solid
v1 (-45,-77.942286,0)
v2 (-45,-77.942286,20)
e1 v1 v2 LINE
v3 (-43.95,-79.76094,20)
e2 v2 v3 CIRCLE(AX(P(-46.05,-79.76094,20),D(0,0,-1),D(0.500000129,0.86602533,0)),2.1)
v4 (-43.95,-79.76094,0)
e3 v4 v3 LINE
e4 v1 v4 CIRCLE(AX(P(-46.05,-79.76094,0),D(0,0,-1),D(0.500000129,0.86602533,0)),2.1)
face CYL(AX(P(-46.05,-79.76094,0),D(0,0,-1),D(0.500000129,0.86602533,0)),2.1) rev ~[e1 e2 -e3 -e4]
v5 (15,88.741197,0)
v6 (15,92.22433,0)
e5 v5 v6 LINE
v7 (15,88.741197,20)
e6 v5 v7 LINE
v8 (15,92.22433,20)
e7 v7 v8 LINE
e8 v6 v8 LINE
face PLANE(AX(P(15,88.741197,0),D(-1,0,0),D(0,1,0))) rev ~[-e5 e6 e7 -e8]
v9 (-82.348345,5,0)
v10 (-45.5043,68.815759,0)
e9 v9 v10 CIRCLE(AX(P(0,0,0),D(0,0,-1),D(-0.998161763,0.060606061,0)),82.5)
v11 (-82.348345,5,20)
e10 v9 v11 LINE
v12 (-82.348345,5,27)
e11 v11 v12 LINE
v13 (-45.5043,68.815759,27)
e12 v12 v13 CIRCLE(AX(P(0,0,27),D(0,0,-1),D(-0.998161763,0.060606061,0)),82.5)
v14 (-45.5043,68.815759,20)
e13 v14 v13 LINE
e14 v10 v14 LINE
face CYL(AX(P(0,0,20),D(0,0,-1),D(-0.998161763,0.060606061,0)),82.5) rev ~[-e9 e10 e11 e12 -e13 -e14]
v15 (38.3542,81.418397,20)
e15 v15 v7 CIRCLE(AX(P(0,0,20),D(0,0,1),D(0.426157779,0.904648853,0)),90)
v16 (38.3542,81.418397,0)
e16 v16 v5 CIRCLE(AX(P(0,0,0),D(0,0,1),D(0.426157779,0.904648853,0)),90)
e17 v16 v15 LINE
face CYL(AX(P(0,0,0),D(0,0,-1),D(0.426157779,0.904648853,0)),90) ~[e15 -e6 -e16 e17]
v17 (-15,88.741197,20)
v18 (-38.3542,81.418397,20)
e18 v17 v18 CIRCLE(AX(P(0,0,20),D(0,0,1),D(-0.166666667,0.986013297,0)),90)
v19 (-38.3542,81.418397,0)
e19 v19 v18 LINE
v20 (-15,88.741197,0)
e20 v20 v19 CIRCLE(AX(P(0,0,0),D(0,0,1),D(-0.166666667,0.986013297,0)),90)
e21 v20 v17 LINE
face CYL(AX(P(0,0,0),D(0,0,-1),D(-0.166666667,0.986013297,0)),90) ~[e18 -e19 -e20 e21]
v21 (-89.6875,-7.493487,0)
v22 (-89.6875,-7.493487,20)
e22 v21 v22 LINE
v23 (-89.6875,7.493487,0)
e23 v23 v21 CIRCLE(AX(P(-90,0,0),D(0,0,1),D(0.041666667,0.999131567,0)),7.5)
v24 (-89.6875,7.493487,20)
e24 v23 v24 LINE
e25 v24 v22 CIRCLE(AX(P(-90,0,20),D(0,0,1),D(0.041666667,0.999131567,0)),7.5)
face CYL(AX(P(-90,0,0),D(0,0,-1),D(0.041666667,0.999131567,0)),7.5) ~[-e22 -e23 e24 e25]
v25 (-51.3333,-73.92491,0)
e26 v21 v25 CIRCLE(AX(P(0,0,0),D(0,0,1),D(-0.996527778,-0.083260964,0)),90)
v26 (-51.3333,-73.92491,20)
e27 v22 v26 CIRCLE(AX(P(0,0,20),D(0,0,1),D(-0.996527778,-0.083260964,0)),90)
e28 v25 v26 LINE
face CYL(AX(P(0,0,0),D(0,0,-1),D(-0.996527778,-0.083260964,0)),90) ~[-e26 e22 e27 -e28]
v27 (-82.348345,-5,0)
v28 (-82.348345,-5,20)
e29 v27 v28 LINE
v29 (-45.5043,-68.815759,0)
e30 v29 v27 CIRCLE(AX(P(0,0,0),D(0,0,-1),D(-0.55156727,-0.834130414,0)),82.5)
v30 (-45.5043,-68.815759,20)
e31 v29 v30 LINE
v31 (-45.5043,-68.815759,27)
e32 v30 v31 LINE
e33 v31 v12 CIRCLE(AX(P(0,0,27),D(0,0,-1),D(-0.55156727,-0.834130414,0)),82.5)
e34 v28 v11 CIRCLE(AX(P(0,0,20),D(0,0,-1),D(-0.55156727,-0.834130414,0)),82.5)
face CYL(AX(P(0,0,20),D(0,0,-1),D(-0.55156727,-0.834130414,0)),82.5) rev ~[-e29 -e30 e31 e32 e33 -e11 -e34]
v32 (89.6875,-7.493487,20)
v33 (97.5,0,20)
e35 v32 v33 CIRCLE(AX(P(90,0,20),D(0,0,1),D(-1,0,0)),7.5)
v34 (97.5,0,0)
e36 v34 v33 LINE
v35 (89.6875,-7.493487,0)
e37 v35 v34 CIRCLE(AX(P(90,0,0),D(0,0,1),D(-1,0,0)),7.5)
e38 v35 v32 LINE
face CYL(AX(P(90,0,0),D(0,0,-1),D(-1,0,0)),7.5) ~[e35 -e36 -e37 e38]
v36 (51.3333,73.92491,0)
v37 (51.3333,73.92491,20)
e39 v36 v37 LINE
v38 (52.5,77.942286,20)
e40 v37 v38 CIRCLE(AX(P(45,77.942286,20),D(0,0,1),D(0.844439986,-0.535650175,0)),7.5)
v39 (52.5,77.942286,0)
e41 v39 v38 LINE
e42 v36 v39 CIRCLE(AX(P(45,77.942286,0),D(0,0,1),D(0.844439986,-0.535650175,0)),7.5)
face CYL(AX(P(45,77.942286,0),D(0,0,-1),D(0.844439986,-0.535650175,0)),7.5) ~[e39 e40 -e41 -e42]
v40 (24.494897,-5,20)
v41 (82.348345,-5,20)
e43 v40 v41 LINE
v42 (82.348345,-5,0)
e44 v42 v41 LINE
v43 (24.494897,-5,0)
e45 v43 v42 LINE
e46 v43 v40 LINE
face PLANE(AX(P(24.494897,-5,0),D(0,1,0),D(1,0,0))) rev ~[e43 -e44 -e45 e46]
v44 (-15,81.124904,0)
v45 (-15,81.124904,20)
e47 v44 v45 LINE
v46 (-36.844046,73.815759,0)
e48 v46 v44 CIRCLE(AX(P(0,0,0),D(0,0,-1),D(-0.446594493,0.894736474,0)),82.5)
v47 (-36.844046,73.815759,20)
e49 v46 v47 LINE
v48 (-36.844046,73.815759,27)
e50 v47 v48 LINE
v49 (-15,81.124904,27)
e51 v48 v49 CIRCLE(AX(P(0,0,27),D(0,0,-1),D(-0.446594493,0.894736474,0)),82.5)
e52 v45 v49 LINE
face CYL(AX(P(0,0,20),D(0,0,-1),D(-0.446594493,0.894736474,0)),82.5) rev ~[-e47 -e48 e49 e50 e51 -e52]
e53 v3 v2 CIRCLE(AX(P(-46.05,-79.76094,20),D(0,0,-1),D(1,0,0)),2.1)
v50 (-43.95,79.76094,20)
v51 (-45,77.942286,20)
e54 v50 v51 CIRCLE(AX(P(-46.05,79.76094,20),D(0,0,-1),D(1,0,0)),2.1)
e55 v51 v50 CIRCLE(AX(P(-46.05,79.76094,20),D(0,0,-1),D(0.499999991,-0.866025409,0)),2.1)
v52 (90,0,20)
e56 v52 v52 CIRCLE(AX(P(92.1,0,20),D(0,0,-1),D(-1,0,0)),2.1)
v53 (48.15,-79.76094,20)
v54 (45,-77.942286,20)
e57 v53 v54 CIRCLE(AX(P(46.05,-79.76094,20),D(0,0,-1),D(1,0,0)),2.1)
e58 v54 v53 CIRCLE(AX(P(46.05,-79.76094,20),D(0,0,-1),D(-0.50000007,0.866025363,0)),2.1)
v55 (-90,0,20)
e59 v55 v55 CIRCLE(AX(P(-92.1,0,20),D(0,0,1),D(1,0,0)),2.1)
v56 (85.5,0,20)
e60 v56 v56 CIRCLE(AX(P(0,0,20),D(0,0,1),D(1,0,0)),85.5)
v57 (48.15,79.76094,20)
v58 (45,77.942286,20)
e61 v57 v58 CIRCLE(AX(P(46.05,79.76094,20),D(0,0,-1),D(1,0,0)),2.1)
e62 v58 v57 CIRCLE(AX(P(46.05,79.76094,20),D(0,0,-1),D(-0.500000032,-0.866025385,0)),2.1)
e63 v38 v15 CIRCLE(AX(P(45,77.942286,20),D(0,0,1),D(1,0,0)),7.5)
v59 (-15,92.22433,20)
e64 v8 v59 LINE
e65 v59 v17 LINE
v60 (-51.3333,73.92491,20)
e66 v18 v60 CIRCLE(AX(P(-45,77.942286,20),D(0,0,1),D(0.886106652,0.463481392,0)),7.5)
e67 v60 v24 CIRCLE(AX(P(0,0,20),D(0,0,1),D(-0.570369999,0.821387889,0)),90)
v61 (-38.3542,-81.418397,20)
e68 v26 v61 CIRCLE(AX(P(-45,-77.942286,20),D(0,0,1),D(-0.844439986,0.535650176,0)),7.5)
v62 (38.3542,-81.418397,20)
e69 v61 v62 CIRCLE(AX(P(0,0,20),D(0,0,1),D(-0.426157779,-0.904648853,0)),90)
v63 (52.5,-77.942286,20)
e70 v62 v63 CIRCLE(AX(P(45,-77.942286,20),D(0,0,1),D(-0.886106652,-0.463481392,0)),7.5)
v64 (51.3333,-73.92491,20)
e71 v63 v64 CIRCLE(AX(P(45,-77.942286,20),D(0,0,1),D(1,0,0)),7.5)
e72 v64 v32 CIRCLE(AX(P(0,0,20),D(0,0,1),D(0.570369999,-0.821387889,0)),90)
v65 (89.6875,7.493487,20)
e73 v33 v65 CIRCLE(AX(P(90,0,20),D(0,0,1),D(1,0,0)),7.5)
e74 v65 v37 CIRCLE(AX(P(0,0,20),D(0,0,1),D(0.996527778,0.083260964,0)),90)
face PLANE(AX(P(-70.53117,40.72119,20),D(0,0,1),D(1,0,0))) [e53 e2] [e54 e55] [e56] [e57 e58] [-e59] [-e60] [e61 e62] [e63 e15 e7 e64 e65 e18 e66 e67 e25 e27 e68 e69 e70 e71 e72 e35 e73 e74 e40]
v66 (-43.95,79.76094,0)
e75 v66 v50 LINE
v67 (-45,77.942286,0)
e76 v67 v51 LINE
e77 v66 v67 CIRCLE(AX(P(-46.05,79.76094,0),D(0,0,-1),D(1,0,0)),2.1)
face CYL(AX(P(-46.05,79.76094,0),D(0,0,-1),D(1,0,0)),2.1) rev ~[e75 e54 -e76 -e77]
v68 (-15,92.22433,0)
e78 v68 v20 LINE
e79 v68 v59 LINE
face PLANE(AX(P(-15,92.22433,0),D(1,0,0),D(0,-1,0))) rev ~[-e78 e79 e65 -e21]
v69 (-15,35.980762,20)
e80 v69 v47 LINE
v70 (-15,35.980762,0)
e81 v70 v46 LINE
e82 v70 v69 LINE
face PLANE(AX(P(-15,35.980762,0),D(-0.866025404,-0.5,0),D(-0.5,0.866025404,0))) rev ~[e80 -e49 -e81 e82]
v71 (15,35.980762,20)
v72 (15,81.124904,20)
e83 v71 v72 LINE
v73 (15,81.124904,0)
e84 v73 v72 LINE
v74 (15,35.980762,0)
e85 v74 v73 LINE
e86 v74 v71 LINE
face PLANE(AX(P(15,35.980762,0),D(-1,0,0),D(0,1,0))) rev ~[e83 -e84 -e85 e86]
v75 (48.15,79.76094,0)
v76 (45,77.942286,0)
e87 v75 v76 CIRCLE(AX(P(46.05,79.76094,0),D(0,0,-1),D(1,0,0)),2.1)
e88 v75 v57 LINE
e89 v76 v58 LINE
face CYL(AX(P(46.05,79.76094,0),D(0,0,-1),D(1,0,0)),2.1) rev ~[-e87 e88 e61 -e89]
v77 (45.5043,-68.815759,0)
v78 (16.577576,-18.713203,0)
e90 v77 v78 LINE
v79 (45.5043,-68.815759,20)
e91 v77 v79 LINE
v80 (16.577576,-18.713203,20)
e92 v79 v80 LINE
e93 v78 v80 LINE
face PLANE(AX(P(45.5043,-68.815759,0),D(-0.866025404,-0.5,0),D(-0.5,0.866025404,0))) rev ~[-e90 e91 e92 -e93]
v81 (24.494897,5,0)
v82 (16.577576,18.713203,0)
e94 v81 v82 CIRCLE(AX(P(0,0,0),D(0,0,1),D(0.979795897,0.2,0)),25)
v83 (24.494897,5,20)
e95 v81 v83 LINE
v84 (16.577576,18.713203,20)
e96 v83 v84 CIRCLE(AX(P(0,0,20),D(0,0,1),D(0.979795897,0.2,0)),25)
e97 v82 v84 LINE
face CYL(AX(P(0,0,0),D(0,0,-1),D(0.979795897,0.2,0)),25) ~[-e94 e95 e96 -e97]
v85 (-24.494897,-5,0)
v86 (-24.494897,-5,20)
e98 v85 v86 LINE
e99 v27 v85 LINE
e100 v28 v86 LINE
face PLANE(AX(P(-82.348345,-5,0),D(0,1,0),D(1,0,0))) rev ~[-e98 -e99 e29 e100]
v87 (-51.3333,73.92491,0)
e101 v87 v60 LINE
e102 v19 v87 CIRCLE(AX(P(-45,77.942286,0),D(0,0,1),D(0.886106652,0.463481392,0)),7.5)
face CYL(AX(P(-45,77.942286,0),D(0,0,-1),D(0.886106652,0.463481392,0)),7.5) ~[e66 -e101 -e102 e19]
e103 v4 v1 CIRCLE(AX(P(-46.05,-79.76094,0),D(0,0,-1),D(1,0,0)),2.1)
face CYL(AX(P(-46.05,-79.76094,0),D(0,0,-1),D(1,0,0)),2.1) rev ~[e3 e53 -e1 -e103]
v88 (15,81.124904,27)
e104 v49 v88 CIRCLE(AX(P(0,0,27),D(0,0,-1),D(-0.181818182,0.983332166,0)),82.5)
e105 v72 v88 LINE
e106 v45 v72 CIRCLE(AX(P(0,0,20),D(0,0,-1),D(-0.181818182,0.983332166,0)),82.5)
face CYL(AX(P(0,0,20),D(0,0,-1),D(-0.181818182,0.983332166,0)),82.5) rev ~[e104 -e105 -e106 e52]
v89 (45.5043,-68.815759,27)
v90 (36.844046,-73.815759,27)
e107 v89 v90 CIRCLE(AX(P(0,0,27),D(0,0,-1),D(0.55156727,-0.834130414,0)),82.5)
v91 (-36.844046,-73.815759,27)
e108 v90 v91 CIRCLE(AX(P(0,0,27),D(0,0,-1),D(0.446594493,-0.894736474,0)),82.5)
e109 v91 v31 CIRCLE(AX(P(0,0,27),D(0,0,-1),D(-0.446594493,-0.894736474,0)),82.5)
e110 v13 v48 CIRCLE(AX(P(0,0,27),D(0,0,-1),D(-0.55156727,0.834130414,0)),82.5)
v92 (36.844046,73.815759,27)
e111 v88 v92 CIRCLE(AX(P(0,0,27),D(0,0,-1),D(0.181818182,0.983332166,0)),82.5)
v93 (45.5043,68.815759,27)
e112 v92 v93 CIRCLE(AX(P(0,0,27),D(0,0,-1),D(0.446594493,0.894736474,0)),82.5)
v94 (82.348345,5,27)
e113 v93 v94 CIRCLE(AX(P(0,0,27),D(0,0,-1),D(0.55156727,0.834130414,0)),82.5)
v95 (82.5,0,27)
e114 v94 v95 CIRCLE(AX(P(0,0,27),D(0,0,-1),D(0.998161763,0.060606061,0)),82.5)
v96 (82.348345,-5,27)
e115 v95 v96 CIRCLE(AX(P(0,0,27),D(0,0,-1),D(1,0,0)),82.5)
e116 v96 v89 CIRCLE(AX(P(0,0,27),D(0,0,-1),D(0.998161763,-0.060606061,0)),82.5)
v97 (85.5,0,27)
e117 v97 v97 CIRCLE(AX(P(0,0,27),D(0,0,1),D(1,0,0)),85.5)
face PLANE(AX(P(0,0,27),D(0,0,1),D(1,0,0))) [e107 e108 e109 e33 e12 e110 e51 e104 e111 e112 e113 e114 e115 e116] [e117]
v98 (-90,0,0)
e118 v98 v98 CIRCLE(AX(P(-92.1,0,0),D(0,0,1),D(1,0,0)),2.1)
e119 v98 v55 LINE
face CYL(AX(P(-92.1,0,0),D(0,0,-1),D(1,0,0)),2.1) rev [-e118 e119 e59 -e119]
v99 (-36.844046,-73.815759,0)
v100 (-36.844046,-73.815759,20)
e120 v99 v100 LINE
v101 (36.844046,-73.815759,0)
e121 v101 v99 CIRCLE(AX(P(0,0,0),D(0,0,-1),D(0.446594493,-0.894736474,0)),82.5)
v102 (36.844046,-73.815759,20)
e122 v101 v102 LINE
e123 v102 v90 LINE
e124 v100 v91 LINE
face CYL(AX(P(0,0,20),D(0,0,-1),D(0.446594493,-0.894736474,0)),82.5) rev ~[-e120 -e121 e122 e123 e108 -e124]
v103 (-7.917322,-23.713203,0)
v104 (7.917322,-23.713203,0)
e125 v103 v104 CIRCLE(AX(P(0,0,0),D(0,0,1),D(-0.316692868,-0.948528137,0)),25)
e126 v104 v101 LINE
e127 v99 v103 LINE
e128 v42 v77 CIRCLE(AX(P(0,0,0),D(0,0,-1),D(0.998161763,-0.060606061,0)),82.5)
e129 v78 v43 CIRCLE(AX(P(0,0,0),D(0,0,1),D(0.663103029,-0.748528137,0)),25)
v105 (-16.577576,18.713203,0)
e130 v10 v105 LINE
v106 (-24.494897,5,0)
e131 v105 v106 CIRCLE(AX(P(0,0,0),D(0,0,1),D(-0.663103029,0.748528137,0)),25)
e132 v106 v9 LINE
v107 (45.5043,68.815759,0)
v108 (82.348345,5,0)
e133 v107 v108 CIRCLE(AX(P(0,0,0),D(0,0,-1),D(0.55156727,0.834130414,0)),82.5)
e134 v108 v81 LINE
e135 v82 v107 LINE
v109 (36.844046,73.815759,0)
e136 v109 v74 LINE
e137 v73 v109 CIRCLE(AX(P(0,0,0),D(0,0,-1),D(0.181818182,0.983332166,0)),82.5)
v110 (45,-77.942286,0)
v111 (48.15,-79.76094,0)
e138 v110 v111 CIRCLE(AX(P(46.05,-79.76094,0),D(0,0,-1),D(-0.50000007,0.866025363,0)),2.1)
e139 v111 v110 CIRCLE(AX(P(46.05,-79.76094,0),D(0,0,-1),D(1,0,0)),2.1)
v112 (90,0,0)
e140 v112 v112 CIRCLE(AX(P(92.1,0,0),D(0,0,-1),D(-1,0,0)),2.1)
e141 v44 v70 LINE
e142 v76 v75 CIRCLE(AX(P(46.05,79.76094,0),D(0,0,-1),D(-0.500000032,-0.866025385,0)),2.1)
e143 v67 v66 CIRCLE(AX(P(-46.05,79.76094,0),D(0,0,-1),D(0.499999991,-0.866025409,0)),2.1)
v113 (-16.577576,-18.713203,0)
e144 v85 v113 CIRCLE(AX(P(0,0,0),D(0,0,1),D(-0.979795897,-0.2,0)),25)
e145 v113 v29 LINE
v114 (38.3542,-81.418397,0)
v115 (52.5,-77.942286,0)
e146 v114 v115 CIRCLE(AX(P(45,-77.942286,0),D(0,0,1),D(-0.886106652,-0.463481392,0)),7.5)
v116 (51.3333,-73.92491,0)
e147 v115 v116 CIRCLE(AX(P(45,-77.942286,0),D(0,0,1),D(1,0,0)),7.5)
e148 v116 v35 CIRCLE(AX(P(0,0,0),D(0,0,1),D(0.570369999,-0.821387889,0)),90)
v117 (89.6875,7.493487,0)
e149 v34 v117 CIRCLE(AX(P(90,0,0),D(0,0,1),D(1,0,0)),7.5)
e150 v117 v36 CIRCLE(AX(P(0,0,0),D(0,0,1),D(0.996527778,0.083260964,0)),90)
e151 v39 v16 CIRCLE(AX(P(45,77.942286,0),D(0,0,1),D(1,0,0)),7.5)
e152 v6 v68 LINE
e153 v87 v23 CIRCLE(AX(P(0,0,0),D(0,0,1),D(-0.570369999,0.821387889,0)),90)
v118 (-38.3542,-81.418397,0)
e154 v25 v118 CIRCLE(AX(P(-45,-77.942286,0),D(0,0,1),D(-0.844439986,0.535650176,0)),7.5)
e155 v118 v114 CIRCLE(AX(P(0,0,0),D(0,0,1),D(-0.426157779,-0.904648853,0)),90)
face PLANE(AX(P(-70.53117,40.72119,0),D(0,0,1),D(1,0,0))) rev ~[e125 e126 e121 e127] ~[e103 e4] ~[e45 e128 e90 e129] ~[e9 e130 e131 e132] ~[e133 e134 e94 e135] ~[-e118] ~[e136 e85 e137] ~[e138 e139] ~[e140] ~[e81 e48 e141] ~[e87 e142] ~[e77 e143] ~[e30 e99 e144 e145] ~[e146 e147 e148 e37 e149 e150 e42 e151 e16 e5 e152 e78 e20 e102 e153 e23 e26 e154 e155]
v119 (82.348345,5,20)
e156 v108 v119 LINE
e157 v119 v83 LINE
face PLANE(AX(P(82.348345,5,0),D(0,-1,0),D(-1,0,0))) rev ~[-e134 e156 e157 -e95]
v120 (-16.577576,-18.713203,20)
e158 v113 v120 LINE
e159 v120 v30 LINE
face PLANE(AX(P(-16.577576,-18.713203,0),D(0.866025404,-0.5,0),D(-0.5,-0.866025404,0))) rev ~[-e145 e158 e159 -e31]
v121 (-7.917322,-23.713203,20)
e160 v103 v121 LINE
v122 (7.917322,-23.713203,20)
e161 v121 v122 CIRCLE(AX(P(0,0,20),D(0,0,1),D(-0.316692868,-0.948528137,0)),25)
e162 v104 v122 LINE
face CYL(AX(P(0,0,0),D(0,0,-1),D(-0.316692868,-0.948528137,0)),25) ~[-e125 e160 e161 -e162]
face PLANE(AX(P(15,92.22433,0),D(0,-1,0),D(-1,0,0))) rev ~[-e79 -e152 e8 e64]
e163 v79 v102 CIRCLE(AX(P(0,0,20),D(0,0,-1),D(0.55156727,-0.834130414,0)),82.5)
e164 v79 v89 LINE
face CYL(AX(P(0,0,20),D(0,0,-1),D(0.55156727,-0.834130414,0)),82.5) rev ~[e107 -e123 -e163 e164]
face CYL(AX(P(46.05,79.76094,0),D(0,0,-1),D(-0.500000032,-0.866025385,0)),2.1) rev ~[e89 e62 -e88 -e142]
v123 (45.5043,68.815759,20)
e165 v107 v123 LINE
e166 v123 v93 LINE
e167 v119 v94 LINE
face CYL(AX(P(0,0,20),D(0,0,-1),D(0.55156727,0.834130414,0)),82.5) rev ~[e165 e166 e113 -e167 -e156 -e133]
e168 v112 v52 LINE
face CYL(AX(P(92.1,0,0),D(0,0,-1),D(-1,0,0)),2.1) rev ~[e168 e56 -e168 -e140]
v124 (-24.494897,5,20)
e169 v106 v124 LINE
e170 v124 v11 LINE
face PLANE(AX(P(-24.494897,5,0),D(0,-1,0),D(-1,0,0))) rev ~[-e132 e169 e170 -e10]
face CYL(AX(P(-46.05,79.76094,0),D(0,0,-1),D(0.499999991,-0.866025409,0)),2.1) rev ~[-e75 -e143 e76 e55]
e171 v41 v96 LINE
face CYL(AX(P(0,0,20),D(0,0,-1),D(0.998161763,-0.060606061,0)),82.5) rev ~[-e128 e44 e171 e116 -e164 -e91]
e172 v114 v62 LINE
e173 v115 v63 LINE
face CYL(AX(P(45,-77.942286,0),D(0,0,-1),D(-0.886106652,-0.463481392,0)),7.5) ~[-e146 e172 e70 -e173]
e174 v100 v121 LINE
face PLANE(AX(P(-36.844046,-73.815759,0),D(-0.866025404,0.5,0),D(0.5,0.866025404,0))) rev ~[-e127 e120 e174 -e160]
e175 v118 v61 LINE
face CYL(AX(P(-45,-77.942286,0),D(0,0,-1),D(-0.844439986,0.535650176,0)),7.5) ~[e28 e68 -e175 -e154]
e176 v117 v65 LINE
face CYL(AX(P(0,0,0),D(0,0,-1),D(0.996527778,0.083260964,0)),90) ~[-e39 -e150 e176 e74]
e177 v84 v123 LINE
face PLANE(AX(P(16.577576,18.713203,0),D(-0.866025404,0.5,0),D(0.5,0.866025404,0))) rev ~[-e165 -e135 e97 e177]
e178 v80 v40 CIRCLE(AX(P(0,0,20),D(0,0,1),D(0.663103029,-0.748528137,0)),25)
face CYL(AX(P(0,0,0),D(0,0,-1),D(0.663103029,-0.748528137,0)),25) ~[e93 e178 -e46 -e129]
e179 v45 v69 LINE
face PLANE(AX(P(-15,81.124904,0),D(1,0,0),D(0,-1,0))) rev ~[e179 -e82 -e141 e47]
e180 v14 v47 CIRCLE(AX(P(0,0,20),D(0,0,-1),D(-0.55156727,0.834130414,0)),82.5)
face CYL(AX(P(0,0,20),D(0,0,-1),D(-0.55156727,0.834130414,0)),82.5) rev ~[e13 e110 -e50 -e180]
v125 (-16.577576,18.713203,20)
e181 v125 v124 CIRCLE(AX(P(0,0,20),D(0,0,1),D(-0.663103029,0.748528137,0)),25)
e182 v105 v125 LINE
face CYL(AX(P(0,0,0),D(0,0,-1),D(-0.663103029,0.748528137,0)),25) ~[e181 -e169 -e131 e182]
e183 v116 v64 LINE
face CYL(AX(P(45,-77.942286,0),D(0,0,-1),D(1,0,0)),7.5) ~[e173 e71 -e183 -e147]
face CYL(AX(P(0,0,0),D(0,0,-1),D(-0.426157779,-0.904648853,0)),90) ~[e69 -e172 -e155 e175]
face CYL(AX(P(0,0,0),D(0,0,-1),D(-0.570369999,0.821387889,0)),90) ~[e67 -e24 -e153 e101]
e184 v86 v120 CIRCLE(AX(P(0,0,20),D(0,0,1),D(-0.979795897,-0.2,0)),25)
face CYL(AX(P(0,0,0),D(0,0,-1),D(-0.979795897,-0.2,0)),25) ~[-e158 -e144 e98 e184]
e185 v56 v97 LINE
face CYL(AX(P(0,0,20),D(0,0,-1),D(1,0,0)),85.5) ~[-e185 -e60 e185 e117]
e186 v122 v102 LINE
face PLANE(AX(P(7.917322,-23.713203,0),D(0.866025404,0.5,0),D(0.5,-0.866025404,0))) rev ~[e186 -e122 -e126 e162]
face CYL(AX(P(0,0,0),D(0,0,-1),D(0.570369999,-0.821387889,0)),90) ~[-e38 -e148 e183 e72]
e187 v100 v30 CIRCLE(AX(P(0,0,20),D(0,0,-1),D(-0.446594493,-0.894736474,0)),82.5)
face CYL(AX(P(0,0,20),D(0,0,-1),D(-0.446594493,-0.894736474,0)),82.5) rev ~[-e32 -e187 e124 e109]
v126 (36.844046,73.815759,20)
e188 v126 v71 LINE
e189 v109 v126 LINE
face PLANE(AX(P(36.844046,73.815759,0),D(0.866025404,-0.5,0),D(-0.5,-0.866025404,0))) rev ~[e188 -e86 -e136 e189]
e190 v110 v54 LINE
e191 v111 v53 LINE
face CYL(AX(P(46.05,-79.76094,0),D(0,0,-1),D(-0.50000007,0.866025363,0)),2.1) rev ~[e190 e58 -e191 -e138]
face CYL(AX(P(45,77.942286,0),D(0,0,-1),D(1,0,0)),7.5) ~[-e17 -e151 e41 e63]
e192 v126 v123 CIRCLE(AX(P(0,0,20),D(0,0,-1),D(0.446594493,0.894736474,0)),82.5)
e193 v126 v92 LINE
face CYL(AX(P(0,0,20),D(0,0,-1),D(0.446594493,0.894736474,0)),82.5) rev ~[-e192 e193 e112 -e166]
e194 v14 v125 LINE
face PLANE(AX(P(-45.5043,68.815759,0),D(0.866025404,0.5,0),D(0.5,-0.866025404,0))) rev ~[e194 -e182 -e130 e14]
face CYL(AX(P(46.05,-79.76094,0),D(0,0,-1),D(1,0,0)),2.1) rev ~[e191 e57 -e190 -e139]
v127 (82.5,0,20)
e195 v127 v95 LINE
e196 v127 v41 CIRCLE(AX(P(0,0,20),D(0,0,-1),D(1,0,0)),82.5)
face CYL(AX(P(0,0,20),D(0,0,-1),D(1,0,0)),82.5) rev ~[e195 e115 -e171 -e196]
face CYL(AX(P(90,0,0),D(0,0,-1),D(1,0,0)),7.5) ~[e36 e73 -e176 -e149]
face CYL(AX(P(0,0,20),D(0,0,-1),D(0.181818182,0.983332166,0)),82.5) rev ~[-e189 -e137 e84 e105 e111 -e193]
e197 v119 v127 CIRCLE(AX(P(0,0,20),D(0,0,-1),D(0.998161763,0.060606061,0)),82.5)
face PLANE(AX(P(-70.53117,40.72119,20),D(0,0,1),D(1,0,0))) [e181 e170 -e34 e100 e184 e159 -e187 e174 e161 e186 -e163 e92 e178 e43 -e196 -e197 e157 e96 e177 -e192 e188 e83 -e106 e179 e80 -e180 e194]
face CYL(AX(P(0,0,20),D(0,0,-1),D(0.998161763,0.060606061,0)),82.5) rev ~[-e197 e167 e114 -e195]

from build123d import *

# Parameters (mm, degrees)
F0_R     = 2.1
F1_DEPTH = 20
F2_R     = 85.5
F3_DEPTH = 7


with BuildPart() as f1:
    # F0 (on Top) → F1 (new body)
    with BuildSketch(Plane.XY):
        with BuildLine():
            ThreePointArc((-41.2500001071, 71.4470957504), (-46.7897627263, 70.6589663982), (-51.3332998929, 73.9249100243))
            ThreePointArc((-51.3332998929, 73.9249100243), (-77.9422863406, 45), (-89.6875, 7.4934867552))
            ThreePointArc((-89.6875, 7.4934867552), (-84.5873412263, 5.1916399143), (-82.5, 0))
            ThreePointArc((-82.5, 0), (-82.4620776492, 2.5011496906), (-82.34834546, 5))
            ThreePointArc((-82.34834546, 5), (-71.4470958122, 41.25), (-45.5042997489, 68.815759128))
            ThreePointArc((-45.5042997489, 68.815759128), (-43.3970980479, 70.1636792152), (-41.2500001071, 71.4470957504))
        make_face()
        with BuildLine():
            ThreePointArc((-37.5, 77.9422863406), (-37.7166800428, 79.7320490069), (-38.3542001071, 81.4183967795))
            ThreePointArc((-38.3542001071, 81.4183967795), (-41.7133252765, 79.7495987098), (-45.0000000188, 77.9422863298))
            ThreePointArc((-45.0000000188, 77.9422863298), (-48.2085158044, 75.999598709), (-51.3332998929, 73.9249100243))
            ThreePointArc((-51.3332998929, 73.9249100243), (-46.7897627263, 70.6589663982), (-41.2500001071, 71.4470957504))
            ThreePointArc((-41.2500001071, 71.4470957504), (-38.5048095025, 74.1922862871), (-37.5, 77.9422863406))
        make_face()
        with BuildLine():
            ThreePointArc((-45.0000000188, 77.9422863298), (-41.7133252765, 79.7495987098), (-38.3542001071, 81.4183967795))
            ThreePointArc((-38.3542001071, 81.4183967795), (-48.75, 84.437476869), (-51.3332998929, 73.9249100243))
            ThreePointArc((-51.3332998929, 73.9249100243), (-48.2085158044, 75.999598709), (-45.0000000188, 77.9422863298))
        make_face()
        with BuildLine():
            ThreePointArc((-43.95, 79.7609396885), (-44.2313466575, 78.7109396792), (-45.0000000188, 77.9422863298))
            ThreePointArc((-45.0000000188, 77.9422863298), (-47.8686533425, 80.8109396979), (-43.95, 79.7609396885))
        make_face(mode=Mode.SUBTRACT)
        with BuildLine():
            Line((-15, 81.1249036979), (-15, 88.7411967465))
            ThreePointArc((-15, 88.7411967465), (-26.9271891795, 85.8773921524), (-38.3542001071, 81.4183967795))
            ThreePointArc((-38.3542001071, 81.4183967795), (-37.7166800428, 79.7320490069), (-37.5, 77.9422863406))
            ThreePointArc((-37.5, 77.9422863406), (-38.5048095025, 74.1922862871), (-41.2500001071, 71.4470957504))
            ThreePointArc((-41.2500001071, 71.4470957504), (-39.0649797083, 72.6648289091), (-36.8440457111, 73.815759128))
            ThreePointArc((-36.8440457111, 73.815759128), (-26.1783721325, 78.2364546263), (-15, 81.1249036979))
        make_face()
        with BuildLine():
            Line((15, 81.1249036979), (15, 88.7411967465))
            ThreePointArc((15, 88.7411967465), (0, 90), (-15, 88.7411967465))
            Line((-15, 88.7411967465), (-15, 81.1249036979))
            ThreePointArc((-15, 81.1249036979), (0, 82.5), (15, 81.1249036979))
        make_face()
        with BuildLine():
            ThreePointArc((-15, 88.7411967465), (0, 90), (15, 88.7411967465))
            Line((15, 88.7411967465), (15, 92.22432971))
            Line((15, 92.22432971), (-15, 92.22432971))
            Line((-15, 92.22432971), (-15, 88.7411967465))
        make_face()
        with BuildLine():
            ThreePointArc((36.8440457111, 73.815759128), (39.0649794612, 72.664829042), (41.2499996211, 71.447096031))
            ThreePointArc((41.2499996211, 71.447096031), (37.7975784991, 75.8506065078), (38.3542001071, 81.4183967795))
            ThreePointArc((38.3542001071, 81.4183967795), (26.9271891795, 85.8773921524), (15, 88.7411967465))
            Line((15, 88.7411967465), (15, 81.1249036979))
            ThreePointArc((15, 81.1249036979), (26.1783721325, 78.2364546263), (36.8440457111, 73.815759128))
        make_face()
        with BuildLine():
            ThreePointArc((41.2499996211, 71.447096031), (46.7897624538, 70.6589663312), (51.3332998929, 73.9249100243))
            ThreePointArc((51.3332998929, 73.9249100243), (48.2085157624, 75.9995987357), (44.9999999326, 77.9422863795))
            ThreePointArc((44.9999999326, 77.9422863795), (41.7133252324, 79.7495987329), (38.3542001071, 81.4183967795))
            ThreePointArc((38.3542001071, 81.4183967795), (37.7975784991, 75.8506065078), (41.2499996211, 71.447096031))
        make_face()
        with BuildLine():
            ThreePointArc((44.9999999326, 77.9422863795), (48.2085157624, 75.9995987357), (51.3332998929, 73.9249100243))
            ThreePointArc((51.3332998929, 73.9249100243), (52.2024214399, 75.8506062978), (52.5, 77.9422863406))
            ThreePointArc((52.5, 77.9422863406), (46.7897626663, 85.2256062978), (38.3542001071, 81.4183967795))
            ThreePointArc((38.3542001071, 81.4183967795), (41.7133252324, 79.7495987329), (44.9999999326, 77.9422863795))
        make_face()
        with BuildLine():
            ThreePointArc((48.15, 79.7609396885), (47.0999999663, 77.9422863211), (44.9999999326, 77.9422863795))
            ThreePointArc((44.9999999326, 77.9422863795), (45.0000000337, 81.5795930559), (48.15, 79.7609396885))
        make_face(mode=Mode.SUBTRACT)
        with BuildLine():
            ThreePointArc((82.5, 0), (84.5873412263, 5.1916399143), (89.6875, 7.4934867552))
            ThreePointArc((89.6875, 7.4934867552), (77.9422863406, 45), (51.3332998929, 73.9249100243))
            ThreePointArc((51.3332998929, 73.9249100243), (46.7897624538, 70.6589663312), (41.2499996211, 71.447096031))
            ThreePointArc((41.2499996211, 71.447096031), (43.3970978093, 70.1636793628), (45.5042997489, 68.815759128))
            ThreePointArc((45.5042997489, 68.815759128), (71.4470958122, 41.25), (82.34834546, 5))
            ThreePointArc((82.34834546, 5), (82.4620776492, 2.5011496906), (82.5, 0))
        make_face()
        with BuildLine():
            ThreePointArc((89.6875, -7.4934867552), (89.9218410621, -3.75), (90, 0))
            ThreePointArc((90, 0), (89.9218410621, 3.75), (89.6875, 7.4934867552))
            ThreePointArc((89.6875, 7.4934867552), (84.5873412263, 5.1916399143), (82.5, 0))
            ThreePointArc((82.5, 0), (84.5873412263, -5.1916399143), (89.6875, -7.4934867552))
        make_face()
        with BuildLine():
            ThreePointArc((89.6875, 7.4934867552), (89.9218410621, 3.75), (90, 0))
            ThreePointArc((90, 0), (89.9218410621, -3.75), (89.6875, -7.4934867552))
            ThreePointArc((89.6875, -7.4934867552), (95.1916399143, -5.4126587737), (97.5, 0))
            ThreePointArc((97.5, 0), (95.1916399143, 5.4126587737), (89.6875, 7.4934867552))
        make_face()
        with BuildLine():
            ThreePointArc((94.2, 0), (92.1, -2.1), (90, 0))
            ThreePointArc((90, 0), (92.1, 2.1), (94.2, 0))
        make_face(mode=Mode.SUBTRACT)
        with BuildLine():
            ThreePointArc((51.3332998929, -73.9249100243), (77.9422863406, -45), (89.6875, -7.4934867552))
            ThreePointArc((89.6875, -7.4934867552), (84.5873412263, -5.1916399143), (82.5, 0))
            ThreePointArc((82.5, 0), (82.4620776492, -2.5011496906), (82.34834546, -5))
            ThreePointArc((82.34834546, -5), (71.4470958122, -41.25), (45.5042997489, -68.815759128))
            ThreePointArc((45.5042997489, -68.815759128), (43.3970980171, -70.1636792343), (41.2500000443, -71.4470957866))
            ThreePointArc((41.2500000443, -71.4470957866), (46.7897626911, -70.6589663895), (51.3332998929, -73.9249100243))
        make_face()
        with BuildLine():
            ThreePointArc((38.3542001071, -81.4183967795), (37.7975785672, -75.8506062732), (41.2500000443, -71.4470957866))
            ThreePointArc((41.2500000443, -71.4470957866), (39.0649796764, -72.6648289263), (36.8440457111, -73.815759128))
            ThreePointArc((36.8440457111, -73.815759128), (0, -82.5), (-36.8440457111, -73.815759128))
            ThreePointArc((-36.8440457111, -73.815759128), (-39.0649795946, -72.6648289702), (-41.2499998835, -71.4470958795))
            ThreePointArc((-41.2499998835, -71.4470958795), (-38.504809438, -74.1922863989), (-37.5, -77.9422863406))
            ThreePointArc((-37.5, -77.9422863406), (-37.7166800428, -79.7320490069), (-38.3542001071, -81.4183967795))
            ThreePointArc((-38.3542001071, -81.4183967795), (0, -90), (38.3542001071, -81.4183967795))
        make_face()
        with BuildLine():
            ThreePointArc((44.9999998533, -77.9422864253), (48.2085157237, -75.9995987602), (51.3332998929, -73.9249100243))
            ThreePointArc((51.3332998929, -73.9249100243), (46.7897626911, -70.6589663895), (41.2500000443, -71.4470957866))
            ThreePointArc((41.2500000443, -71.4470957866), (37.7975785672, -75.8506062732), (38.3542001071, -81.4183967795))
            ThreePointArc((38.3542001071, -81.4183967795), (41.7133251918, -79.7495987541), (44.9999998533, -77.9422864253))
        make_face()
        with BuildLine():
            ThreePointArc((52.5, -77.9422863406), (52.2024214399, -75.8506062978), (51.3332998929, -73.9249100243))
            ThreePointArc((51.3332998929, -73.9249100243), (48.2085157237, -75.9995987602), (44.9999998533, -77.9422864253))
            ThreePointArc((44.9999998533, -77.9422864253), (41.7133251918, -79.7495987541), (38.3542001071, -81.4183967795))
            ThreePointArc((38.3542001071, -81.4183967795), (46.7897626663, -85.2256062978), (52.5, -77.9422863406))
        make_face()
        with BuildLine():
            ThreePointArc((48.15, -79.7609396885), (45.0000000733, -81.5795930788), (44.9999998533, -77.9422864253))
            ThreePointArc((44.9999998533, -77.9422864253), (47.0999999267, -77.9422862983), (48.15, -79.7609396885))
        make_face(mode=Mode.SUBTRACT)
        with BuildLine():
            ThreePointArc((-44.99999973, -77.9422864965), (-41.7133251287, -79.7495987871), (-38.3542001071, -81.4183967795))
            ThreePointArc((-38.3542001071, -81.4183967795), (-37.7166800428, -79.7320490069), (-37.5, -77.9422863406))
            ThreePointArc((-37.5, -77.9422863406), (-38.504809438, -74.1922863989), (-41.2499998835, -71.4470958795))
            ThreePointArc((-41.2499998835, -71.4470958795), (-46.7897626009, -70.6589663674), (-51.3332998929, -73.9249100243))
            ThreePointArc((-51.3332998929, -73.9249100243), (-48.2085156636, -75.9995987984), (-44.99999973, -77.9422864965))
        make_face()
        with BuildLine():
            ThreePointArc((-51.3332998929, -73.9249100243), (-48.75, -84.437476869), (-38.3542001071, -81.4183967795))
            ThreePointArc((-38.3542001071, -81.4183967795), (-41.7133251287, -79.7495987871), (-44.99999973, -77.9422864965))
            ThreePointArc((-44.99999973, -77.9422864965), (-48.2085156636, -75.9995987984), (-51.3332998929, -73.9249100243))
        make_face()
        with BuildLine():
            ThreePointArc((-43.95, -79.7609396885), (-47.8686534259, -80.8109395535), (-44.99999973, -77.9422864965))
            ThreePointArc((-44.99999973, -77.9422864965), (-44.2313465741, -78.7109398236), (-43.95, -79.7609396885))
        make_face(mode=Mode.SUBTRACT)
        with BuildLine():
            ThreePointArc((-89.6875, -7.4934867552), (-77.9422863406, -45), (-51.3332998929, -73.9249100243))
            ThreePointArc((-51.3332998929, -73.9249100243), (-46.7897626009, -70.6589663674), (-41.2499998835, -71.4470958795))
            ThreePointArc((-41.2499998835, -71.4470958795), (-43.3970979381, -70.1636792831), (-45.5042997489, -68.815759128))
            ThreePointArc((-45.5042997489, -68.815759128), (-71.4470958122, -41.25), (-82.34834546, -5))
            ThreePointArc((-82.34834546, -5), (-82.4620776492, -2.5011496906), (-82.5, 0))
            ThreePointArc((-82.5, 0), (-84.5873412263, -5.1916399143), (-89.6875, -7.4934867552))
        make_face()
        with BuildLine():
            ThreePointArc((-90, 0), (-89.9218410621, -3.75), (-89.6875, -7.4934867552))
            ThreePointArc((-89.6875, -7.4934867552), (-84.5873412263, -5.1916399143), (-82.5, 0))
            ThreePointArc((-82.5, 0), (-84.5873412263, 5.1916399143), (-89.6875, 7.4934867552))
            ThreePointArc((-89.6875, 7.4934867552), (-89.9218410621, 3.75), (-90, 0))
        make_face()
        with BuildLine():
            ThreePointArc((-89.6875, 7.4934867552), (-97.5, 0), (-89.6875, -7.4934867552))
            ThreePointArc((-89.6875, -7.4934867552), (-89.9218410621, -3.75), (-90, 0))
            ThreePointArc((-90, 0), (-89.9218410621, 3.75), (-89.6875, 7.4934867552))
        make_face()
        with Locations((-92.1, 0)):
            Circle(F0_R, mode=Mode.SUBTRACT)
        with BuildLine():
            ThreePointArc((-82.34834546, 5), (-82.4620776492, 2.5011496906), (-82.5, 0))
            ThreePointArc((-82.5, 0), (-82.4620776492, -2.5011496906), (-82.34834546, -5))
            Line((-82.34834546, -5), (-24.4948974278, -5))
            ThreePointArc((-24.4948974278, -5), (-25, 0), (-24.4948974278, 5))
            Line((-24.4948974278, 5), (-82.34834546, 5))
        make_face()
        with BuildLine():
            ThreePointArc((-41.2499998835, -71.4470958795), (-39.0649795946, -72.6648289702), (-36.8440457111, -73.815759128))
            Line((-36.8440457111, -73.815759128), (-7.917321695, -23.7132034356))
            ThreePointArc((-7.917321695, -23.7132034356), (-12.5, -21.6506350946), (-16.5775757328, -18.7132034356))
            Line((-16.5775757328, -18.7132034356), (-45.5042997489, -68.815759128))
            ThreePointArc((-45.5042997489, -68.815759128), (-43.3970979381, -70.1636792831), (-41.2499998835, -71.4470958795))
        make_face()
        with BuildLine():
            ThreePointArc((36.8440457111, -73.815759128), (39.0649796764, -72.6648289263), (41.2500000443, -71.4470957866))
            ThreePointArc((41.2500000443, -71.4470957866), (43.3970980171, -70.1636792343), (45.5042997489, -68.815759128))
            Line((45.5042997489, -68.815759128), (16.5775757328, -18.7132034356))
            ThreePointArc((16.5775757328, -18.7132034356), (12.5, -21.6506350946), (7.917321695, -23.7132034356))
            Line((7.917321695, -23.7132034356), (36.8440457111, -73.815759128))
        make_face()
        with BuildLine():
            ThreePointArc((82.34834546, -5), (82.4620776492, -2.5011496906), (82.5, 0))
            ThreePointArc((82.5, 0), (82.4620776492, 2.5011496906), (82.34834546, 5))
            Line((82.34834546, 5), (24.4948974278, 5))
            ThreePointArc((24.4948974278, 5), (24.8734038251, 2.5127240501), (25, 0))
            ThreePointArc((25, 0), (24.8734038251, -2.5127240501), (24.4948974278, -5))
            Line((24.4948974278, -5), (82.34834546, -5))
        make_face()
        with BuildLine():
            ThreePointArc((45.5042997489, 68.815759128), (43.3970978093, 70.1636793628), (41.2499996211, 71.447096031))
            ThreePointArc((41.2499996211, 71.447096031), (39.0649794612, 72.664829042), (36.8440457111, 73.815759128))
            Line((36.8440457111, 73.815759128), (15, 35.9807621135))
            Line((15, 35.9807621135), (7.917321695, 23.7132034356))
            ThreePointArc((7.917321695, 23.7132034356), (12.5, 21.6506350946), (16.5775757328, 18.7132034356))
            Line((16.5775757328, 18.7132034356), (45.5042997489, 68.815759128))
        make_face()
        with BuildLine():
            ThreePointArc((-16.5775757328, 18.7132034356), (-12.5, 21.6506350946), (-7.917321695, 23.7132034356))
            Line((-7.917321695, 23.7132034356), (-15, 35.9807621135))
            Line((-15, 35.9807621135), (-36.8440457111, 73.815759128))
            ThreePointArc((-36.8440457111, 73.815759128), (-39.0649797083, 72.6648289091), (-41.2500001071, 71.4470957504))
            ThreePointArc((-41.2500001071, 71.4470957504), (-43.3970980479, 70.1636792152), (-45.5042997489, 68.815759128))
            Line((-45.5042997489, 68.815759128), (-16.5775757328, 18.7132034356))
        make_face()
        with BuildLine():
            ThreePointArc((25, 0), (24.8734038251, 2.5127240501), (24.4948974278, 5))
            ThreePointArc((24.4948974278, 5), (21.6506350946, 12.5), (16.5775757328, 18.7132034356))
            ThreePointArc((16.5775757328, 18.7132034356), (12.5, 21.6506350946), (7.917321695, 23.7132034356))
            ThreePointArc((7.917321695, 23.7132034356), (0, 25), (-7.917321695, 23.7132034356))
            ThreePointArc((-7.917321695, 23.7132034356), (-12.5, 21.6506350946), (-16.5775757328, 18.7132034356))
            ThreePointArc((-16.5775757328, 18.7132034356), (-21.6506350946, 12.5), (-24.4948974278, 5))
            ThreePointArc((-24.4948974278, 5), (-25, 0), (-24.4948974278, -5))
            ThreePointArc((-24.4948974278, -5), (-21.6506350946, -12.5), (-16.5775757328, -18.7132034356))
            ThreePointArc((-16.5775757328, -18.7132034356), (-12.5, -21.6506350946), (-7.917321695, -23.7132034356))
            ThreePointArc((-7.917321695, -23.7132034356), (0, -25), (7.917321695, -23.7132034356))
            ThreePointArc((7.917321695, -23.7132034356), (12.5, -21.6506350946), (16.5775757328, -18.7132034356))
            ThreePointArc((16.5775757328, -18.7132034356), (21.6506350946, -12.5), (24.4948974278, -5))
            ThreePointArc((24.4948974278, -5), (24.8734038251, -2.5127240501), (25, 0))
        make_face()
        with BuildLine():
            Line((15, 35.9807621135), (15, 81.1249036979))
            ThreePointArc((15, 81.1249036979), (0, 82.5), (-15, 81.1249036979))
            Line((-15, 81.1249036979), (-15, 35.9807621135))
            Line((-15, 35.9807621135), (-7.917321695, 23.7132034356))
            ThreePointArc((-7.917321695, 23.7132034356), (0, 25), (7.917321695, 23.7132034356))
            Line((7.917321695, 23.7132034356), (15, 35.9807621135))
        make_face()
    extrude(amount=F1_DEPTH)

    # F2 (on face) → F3 (join)
    with BuildSketch(Plane.XY.offset(20)):
        Circle(F2_R)
        with BuildLine():
            ThreePointArc((82.34834546, 5), (82.4620776492, 2.5011496906), (82.5, 0))
            ThreePointArc((82.5, 0), (82.4620776492, -2.5011496906), (82.34834546, -5))
            ThreePointArc((82.34834546, -5), (71.4470958122, -41.25), (45.5042997489, -68.815759128))
            ThreePointArc((45.5042997489, -68.815759128), (41.25, -71.4470958122), (36.8440457111, -73.815759128))
            ThreePointArc((36.8440457111, -73.815759128), (0, -82.5), (-36.8440457111, -73.815759128))
            ThreePointArc((-36.8440457111, -73.815759128), (-41.25, -71.4470958122), (-45.5042997489, -68.815759128))
            ThreePointArc((-45.5042997489, -68.815759128), (-71.4470958122, -41.25), (-82.34834546, -5))
            ThreePointArc((-82.34834546, -5), (-82.5, 0), (-82.34834546, 5))
            ThreePointArc((-82.34834546, 5), (-71.4470958122, 41.25), (-45.5042997489, 68.815759128))
            ThreePointArc((-45.5042997489, 68.815759128), (-41.25, 71.4470958122), (-36.8440457111, 73.815759128))
            ThreePointArc((-36.8440457111, 73.815759128), (-26.1783721325, 78.2364546263), (-15, 81.1249036979))
            ThreePointArc((-15, 81.1249036979), (0, 82.5), (15, 81.1249036979))
            ThreePointArc((15, 81.1249036979), (26.1783721325, 78.2364546263), (36.8440457111, 73.815759128))
            ThreePointArc((36.8440457111, 73.815759128), (41.25, 71.4470958122), (45.5042997489, 68.815759128))
            ThreePointArc((45.5042997489, 68.815759128), (71.4470958122, 41.25), (82.34834546, 5))
        make_face(mode=Mode.SUBTRACT)
    extrude(amount=F3_DEPTH)


solid = f1.part
